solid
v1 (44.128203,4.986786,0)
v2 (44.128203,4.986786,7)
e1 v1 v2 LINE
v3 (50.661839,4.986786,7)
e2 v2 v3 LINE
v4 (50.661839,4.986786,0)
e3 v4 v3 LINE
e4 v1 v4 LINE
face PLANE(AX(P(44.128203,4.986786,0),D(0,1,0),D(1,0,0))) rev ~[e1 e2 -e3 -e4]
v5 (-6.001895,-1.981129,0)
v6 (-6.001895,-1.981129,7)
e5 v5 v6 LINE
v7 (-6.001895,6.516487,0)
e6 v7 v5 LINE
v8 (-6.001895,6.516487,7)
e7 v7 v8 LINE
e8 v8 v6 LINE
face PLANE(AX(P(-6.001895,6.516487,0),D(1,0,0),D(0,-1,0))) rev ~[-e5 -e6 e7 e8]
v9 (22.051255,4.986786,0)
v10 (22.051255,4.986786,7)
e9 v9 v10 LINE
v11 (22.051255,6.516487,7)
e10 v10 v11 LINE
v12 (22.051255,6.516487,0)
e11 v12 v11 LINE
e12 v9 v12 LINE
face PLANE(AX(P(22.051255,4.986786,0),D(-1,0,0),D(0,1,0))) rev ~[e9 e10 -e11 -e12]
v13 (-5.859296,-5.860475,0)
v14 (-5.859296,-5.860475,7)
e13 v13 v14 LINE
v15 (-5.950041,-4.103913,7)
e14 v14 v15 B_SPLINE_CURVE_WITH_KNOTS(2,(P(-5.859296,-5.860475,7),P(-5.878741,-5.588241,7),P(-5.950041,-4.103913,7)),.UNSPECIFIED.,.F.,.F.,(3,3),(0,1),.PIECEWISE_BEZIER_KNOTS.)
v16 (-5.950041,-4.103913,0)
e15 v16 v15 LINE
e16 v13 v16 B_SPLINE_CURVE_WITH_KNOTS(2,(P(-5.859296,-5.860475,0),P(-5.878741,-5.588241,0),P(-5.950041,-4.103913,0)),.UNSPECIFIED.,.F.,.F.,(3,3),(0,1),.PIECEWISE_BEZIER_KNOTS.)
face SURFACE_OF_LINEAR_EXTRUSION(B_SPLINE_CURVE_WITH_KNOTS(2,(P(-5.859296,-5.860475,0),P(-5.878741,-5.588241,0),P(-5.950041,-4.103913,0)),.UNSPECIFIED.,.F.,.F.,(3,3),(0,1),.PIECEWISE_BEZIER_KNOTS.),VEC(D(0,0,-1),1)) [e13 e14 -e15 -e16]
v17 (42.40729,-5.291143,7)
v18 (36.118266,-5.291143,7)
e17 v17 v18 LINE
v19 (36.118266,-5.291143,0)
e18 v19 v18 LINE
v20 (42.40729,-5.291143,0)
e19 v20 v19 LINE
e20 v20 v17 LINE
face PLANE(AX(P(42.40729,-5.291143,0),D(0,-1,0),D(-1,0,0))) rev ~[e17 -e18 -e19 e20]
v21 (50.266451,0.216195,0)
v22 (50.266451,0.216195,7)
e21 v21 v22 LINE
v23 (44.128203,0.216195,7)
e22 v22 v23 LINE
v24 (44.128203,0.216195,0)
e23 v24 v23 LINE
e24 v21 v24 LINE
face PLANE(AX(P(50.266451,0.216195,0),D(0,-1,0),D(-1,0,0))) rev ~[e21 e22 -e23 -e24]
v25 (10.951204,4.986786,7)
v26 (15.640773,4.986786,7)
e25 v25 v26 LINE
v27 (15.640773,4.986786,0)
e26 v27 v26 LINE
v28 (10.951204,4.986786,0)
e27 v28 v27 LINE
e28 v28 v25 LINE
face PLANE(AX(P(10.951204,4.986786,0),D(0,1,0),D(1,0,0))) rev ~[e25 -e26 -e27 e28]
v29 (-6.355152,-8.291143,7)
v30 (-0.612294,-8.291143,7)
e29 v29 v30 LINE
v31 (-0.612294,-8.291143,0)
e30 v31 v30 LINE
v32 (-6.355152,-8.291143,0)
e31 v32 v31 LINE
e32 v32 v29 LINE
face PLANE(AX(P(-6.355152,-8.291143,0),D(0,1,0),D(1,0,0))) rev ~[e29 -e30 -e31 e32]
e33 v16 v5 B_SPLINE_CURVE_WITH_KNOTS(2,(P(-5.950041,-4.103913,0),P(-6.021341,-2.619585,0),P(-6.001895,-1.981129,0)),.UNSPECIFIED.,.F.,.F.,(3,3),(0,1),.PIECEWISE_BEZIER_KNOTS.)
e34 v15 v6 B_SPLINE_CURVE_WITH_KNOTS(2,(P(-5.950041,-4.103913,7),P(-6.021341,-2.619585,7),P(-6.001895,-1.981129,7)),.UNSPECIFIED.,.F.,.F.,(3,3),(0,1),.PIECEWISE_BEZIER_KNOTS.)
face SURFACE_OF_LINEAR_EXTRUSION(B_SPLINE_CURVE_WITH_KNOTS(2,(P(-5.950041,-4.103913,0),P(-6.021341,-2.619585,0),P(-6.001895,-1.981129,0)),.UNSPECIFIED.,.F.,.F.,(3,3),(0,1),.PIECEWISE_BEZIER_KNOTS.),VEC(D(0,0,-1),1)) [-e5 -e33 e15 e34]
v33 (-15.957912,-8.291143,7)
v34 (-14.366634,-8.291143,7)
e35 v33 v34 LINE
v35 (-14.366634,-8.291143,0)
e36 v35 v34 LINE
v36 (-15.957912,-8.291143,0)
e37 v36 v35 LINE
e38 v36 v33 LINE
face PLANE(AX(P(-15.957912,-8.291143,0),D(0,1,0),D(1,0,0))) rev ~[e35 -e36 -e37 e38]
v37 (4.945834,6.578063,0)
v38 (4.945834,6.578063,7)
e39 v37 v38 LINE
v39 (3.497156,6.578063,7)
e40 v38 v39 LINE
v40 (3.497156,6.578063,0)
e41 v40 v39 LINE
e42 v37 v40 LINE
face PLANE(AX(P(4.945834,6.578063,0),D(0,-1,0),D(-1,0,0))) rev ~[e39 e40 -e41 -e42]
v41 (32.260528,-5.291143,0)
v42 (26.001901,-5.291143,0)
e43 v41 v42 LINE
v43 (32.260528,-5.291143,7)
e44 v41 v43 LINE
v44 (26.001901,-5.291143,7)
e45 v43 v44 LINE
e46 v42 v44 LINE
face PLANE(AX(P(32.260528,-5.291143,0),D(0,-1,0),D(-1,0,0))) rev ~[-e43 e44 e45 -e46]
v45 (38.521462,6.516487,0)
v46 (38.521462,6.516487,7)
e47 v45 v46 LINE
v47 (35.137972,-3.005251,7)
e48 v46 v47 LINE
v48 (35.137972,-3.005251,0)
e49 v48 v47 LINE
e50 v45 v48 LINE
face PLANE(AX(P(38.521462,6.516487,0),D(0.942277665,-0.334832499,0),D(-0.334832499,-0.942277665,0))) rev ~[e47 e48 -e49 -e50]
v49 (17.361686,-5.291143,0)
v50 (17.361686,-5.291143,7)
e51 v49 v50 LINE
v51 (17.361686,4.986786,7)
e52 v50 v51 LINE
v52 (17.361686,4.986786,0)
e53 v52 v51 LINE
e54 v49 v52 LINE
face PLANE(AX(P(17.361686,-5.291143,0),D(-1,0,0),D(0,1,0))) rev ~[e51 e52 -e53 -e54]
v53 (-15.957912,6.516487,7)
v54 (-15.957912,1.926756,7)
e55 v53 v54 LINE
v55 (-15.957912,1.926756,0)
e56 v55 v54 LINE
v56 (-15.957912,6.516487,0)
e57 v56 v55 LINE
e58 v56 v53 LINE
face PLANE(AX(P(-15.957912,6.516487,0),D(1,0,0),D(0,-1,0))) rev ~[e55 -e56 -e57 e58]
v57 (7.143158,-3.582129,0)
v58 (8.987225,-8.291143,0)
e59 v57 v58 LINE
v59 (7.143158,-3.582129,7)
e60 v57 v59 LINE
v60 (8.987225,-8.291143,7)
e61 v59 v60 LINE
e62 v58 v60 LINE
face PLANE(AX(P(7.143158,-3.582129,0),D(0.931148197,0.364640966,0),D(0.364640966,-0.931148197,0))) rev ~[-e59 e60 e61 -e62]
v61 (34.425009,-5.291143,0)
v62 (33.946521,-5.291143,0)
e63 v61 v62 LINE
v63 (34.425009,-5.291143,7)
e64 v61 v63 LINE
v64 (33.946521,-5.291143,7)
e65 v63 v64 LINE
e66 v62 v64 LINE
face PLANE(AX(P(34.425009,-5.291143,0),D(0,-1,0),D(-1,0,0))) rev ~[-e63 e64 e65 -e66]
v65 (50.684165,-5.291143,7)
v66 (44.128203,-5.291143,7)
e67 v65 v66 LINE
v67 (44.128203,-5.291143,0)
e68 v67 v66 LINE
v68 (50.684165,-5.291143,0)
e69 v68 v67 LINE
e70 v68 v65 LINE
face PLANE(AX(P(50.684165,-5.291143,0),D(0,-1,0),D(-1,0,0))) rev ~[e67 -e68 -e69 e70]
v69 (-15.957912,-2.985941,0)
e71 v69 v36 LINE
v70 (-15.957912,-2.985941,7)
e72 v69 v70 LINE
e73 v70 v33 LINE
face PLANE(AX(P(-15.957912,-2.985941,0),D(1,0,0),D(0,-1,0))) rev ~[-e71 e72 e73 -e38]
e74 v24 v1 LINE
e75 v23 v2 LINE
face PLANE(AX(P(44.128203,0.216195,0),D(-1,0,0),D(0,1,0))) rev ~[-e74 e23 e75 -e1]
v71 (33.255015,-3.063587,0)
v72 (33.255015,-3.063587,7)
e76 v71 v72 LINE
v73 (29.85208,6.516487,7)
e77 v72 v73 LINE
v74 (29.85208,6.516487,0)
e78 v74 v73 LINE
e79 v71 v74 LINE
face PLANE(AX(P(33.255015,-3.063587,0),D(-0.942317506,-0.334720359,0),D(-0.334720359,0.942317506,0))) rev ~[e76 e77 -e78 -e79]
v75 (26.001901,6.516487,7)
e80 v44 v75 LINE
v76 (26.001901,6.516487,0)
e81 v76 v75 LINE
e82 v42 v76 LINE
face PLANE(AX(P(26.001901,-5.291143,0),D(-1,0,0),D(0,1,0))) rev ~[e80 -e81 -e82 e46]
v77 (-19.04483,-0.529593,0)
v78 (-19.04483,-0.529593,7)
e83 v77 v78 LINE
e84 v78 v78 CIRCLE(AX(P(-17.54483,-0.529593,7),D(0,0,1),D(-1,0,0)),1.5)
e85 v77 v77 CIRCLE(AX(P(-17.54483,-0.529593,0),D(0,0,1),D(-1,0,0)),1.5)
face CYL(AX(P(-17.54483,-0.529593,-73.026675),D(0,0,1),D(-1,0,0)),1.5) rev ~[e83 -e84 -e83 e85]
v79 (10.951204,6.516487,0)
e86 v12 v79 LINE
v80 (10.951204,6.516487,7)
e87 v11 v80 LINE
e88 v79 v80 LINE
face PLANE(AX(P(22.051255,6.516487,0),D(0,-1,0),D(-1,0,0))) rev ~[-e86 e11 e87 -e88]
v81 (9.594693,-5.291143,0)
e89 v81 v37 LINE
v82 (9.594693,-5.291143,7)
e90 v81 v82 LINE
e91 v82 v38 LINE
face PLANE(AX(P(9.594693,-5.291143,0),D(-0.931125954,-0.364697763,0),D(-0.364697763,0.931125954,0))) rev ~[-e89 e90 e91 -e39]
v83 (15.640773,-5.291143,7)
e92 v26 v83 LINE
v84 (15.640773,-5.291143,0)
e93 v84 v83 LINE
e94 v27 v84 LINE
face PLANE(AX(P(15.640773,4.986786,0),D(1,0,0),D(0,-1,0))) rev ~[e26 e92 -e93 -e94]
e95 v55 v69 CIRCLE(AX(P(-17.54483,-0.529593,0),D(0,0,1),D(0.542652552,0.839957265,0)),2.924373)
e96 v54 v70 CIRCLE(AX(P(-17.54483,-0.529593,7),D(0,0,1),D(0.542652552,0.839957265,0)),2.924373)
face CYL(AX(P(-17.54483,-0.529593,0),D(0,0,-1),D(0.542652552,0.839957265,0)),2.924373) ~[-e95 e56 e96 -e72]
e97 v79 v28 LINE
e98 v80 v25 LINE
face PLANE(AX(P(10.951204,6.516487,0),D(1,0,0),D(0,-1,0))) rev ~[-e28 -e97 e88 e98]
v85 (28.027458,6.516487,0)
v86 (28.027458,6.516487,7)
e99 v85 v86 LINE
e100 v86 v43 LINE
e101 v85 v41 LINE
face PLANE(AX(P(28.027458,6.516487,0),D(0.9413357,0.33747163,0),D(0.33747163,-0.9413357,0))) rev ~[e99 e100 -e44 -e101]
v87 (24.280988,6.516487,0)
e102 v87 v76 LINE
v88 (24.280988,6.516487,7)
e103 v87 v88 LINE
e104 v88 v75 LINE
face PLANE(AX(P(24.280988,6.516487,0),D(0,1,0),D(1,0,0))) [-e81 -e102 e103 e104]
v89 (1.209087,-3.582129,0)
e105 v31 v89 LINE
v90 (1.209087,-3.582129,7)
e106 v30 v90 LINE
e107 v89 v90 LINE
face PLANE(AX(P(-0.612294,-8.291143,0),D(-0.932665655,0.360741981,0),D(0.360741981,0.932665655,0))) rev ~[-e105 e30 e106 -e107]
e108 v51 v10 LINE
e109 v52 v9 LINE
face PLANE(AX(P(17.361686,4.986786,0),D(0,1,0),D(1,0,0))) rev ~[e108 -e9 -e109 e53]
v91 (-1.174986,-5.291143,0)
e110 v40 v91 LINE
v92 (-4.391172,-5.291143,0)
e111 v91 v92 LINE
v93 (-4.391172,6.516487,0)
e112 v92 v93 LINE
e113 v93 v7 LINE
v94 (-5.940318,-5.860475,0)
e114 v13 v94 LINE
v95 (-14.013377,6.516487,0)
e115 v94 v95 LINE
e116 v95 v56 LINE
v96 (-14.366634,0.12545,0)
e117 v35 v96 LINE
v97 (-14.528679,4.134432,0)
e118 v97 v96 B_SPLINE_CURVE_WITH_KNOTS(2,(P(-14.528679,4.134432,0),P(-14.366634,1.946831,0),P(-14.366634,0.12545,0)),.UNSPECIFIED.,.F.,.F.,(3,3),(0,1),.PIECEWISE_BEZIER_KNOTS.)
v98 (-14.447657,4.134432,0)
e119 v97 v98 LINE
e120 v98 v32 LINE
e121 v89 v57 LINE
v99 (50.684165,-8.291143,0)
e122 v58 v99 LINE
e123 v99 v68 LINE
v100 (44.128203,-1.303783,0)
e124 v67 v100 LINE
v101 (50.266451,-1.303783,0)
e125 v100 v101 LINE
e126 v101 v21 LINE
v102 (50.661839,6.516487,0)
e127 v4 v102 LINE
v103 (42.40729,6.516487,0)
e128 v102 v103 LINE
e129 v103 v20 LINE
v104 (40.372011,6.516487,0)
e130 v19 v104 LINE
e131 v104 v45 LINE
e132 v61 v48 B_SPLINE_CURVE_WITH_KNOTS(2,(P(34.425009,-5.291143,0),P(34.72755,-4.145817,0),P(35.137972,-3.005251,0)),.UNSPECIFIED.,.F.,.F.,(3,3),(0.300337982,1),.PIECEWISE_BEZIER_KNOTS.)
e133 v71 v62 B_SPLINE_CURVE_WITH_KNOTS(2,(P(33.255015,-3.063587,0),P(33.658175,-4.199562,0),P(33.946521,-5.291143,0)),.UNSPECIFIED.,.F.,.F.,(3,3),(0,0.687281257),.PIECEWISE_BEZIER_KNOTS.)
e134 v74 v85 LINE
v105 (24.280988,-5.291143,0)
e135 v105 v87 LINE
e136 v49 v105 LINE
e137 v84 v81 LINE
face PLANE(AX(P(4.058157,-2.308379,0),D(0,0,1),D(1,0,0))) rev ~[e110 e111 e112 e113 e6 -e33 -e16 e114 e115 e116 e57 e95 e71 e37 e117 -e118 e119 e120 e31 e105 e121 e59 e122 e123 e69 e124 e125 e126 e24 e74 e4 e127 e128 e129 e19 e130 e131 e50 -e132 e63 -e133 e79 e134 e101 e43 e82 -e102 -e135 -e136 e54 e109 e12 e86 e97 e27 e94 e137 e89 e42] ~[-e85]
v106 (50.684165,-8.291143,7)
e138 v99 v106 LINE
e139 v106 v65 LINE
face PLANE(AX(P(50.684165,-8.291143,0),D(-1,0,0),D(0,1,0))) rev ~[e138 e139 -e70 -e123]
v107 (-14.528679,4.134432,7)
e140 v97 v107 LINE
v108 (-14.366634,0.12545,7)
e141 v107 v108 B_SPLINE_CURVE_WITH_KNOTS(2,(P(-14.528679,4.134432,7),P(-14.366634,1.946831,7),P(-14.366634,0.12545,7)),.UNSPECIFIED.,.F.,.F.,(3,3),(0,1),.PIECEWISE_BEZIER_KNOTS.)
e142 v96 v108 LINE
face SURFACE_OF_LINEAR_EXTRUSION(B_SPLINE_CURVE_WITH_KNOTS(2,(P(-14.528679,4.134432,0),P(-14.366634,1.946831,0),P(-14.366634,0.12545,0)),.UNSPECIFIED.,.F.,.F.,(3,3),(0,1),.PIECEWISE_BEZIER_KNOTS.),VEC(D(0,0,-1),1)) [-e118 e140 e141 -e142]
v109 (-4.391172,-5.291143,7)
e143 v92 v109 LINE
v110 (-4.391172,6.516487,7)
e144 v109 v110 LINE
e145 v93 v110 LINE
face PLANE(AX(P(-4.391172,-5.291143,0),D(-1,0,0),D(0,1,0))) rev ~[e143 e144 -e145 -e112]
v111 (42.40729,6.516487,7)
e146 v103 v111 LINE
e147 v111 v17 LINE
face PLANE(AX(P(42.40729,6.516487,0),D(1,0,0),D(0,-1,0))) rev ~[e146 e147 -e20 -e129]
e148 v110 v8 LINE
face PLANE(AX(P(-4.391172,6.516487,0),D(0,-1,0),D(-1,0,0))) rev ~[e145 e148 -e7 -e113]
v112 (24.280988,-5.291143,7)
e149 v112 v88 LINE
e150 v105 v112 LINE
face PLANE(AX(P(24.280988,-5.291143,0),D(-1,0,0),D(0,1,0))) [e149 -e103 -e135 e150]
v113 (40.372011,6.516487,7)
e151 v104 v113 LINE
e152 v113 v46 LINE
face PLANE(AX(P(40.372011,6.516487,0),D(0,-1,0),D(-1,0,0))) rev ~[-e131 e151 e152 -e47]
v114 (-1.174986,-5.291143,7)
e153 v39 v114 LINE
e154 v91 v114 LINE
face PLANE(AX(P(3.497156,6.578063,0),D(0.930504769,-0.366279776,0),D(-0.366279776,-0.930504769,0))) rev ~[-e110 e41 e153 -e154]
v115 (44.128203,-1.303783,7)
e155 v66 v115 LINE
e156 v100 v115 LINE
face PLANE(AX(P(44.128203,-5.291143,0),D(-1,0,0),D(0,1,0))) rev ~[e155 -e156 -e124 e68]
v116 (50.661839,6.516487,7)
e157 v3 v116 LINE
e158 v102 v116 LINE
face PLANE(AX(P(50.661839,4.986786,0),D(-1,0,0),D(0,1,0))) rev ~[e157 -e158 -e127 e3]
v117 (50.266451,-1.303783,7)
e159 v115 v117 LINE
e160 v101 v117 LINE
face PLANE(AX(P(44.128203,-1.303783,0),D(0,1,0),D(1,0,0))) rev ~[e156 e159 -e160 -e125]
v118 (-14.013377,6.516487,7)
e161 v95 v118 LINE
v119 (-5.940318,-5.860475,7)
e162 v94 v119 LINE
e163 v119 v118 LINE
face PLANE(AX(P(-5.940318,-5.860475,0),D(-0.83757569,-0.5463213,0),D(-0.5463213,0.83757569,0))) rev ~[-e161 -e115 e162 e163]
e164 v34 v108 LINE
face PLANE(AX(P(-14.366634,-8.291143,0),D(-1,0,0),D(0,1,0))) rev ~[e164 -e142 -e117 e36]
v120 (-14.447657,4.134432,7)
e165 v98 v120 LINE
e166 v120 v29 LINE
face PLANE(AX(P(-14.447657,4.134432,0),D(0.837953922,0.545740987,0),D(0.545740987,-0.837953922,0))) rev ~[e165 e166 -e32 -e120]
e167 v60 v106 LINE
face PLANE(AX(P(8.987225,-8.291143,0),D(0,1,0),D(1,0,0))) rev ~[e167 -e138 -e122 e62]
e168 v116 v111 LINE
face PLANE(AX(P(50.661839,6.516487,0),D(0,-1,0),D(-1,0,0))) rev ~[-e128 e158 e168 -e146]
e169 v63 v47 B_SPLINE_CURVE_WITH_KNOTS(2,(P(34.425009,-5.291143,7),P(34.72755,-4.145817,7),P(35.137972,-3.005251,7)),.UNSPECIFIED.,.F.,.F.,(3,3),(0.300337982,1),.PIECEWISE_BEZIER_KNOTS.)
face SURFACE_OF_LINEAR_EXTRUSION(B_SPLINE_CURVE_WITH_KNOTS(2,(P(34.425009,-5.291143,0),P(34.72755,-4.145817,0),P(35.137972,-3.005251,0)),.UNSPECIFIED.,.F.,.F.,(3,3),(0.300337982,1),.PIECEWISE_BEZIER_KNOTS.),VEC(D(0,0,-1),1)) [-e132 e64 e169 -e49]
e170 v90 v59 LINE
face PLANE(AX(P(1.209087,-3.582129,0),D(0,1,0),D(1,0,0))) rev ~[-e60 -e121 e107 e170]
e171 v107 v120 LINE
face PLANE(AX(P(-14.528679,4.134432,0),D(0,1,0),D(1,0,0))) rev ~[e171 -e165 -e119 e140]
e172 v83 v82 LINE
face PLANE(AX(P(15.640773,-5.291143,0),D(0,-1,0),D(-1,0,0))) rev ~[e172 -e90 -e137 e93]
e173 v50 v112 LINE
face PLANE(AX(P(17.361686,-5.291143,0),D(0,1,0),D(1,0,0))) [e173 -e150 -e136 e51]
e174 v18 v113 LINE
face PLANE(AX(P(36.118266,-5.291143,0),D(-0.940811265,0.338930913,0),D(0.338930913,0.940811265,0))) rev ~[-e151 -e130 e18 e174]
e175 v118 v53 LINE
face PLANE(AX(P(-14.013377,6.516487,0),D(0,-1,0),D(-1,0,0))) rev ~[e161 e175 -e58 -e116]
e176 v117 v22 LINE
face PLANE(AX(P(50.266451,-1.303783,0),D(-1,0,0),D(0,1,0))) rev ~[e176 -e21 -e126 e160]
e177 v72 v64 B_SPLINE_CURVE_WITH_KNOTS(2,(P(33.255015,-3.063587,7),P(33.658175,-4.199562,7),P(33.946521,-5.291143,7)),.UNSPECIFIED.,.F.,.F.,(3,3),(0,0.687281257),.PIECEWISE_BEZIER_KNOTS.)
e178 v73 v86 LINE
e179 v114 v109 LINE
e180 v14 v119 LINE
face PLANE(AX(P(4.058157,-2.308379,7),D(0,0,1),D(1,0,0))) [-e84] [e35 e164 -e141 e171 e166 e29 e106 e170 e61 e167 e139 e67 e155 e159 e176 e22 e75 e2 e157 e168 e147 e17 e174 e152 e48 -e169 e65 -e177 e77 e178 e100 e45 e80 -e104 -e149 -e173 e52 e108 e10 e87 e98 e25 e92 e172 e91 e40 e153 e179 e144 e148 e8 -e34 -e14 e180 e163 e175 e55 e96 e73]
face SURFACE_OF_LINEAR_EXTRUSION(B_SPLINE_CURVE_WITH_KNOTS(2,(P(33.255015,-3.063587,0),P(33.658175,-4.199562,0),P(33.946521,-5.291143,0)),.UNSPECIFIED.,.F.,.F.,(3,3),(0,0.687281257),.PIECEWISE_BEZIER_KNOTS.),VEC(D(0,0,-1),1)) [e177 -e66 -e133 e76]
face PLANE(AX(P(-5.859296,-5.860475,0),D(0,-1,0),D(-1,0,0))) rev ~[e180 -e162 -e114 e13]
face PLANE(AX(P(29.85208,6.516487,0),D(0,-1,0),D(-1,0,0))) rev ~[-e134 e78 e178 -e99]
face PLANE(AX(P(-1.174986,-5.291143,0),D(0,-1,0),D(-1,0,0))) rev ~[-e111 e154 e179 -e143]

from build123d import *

# Parameters (mm, degrees)
F0_R     = 1.5144006305
F0_W     = 6.9193018195
F0_H     = 3
F0_W_2   = 1.7209130052
F0_H_2   = 11.8076299829
F0_W_3   = 0.5121529102
F0_W_4   = 0.0222647793
F1_DEPTH = 7
F2_D     = 3


with BuildPart() as f1:
    # F0 (on Top) → F1 (new body)
    with BuildSketch(Plane.XY):
        Polygon((3.4971556998, 6.5780634755), (-1.1749863393, -5.2911434323), (-2.3558930525, -8.2911434323), (-2.2171302699, -8.2911434323), (-0.6122938118, -8.2911434323), (1.2090868077, -3.582129126), (7.1431578295, -3.582129126), (8.9872246844, -8.2911434323), (9.7287874669, -8.2911434323), (9.2608770356, -5.2911434323), (9.5946928185, -5.2911434323), (4.9458338793, 6.5780634755), align=None)
        with BuildLine():
            Line((4.8842569545, 2.556118015), (6.6084108505, -2.0329833323))
            Line((6.6084108505, -2.0329833323), (1.8183742747, -2.0329833323))
            Line((1.8183742747, -2.0329833323), (3.5587326246, 2.556118015))
            add(Edge.make_bspline(
                [(4.1971881087, 4.6918650404), (3.9735666447, 3.7195978058), (3.5587326246, 2.556118015)],
                knots=[0, 0, 0, 1, 1, 1], degree=2))
            add(Edge.make_bspline(
                [(4.8842569545, 2.556118015), (4.5504452039, 3.4279176354), (4.1971881087, 4.6918650404)],
                knots=[0, 0, 0, 1, 1, 1], degree=2))
        make_face(mode=Mode.SUBTRACT)
        with BuildLine():
            Line((-4.3911724636, -8.2911434323), (-4.3911724636, -5.2911434323))
            Line((-4.3911724636, -5.2911434323), (-4.3911724636, 6.5164865506))
            Line((-4.3911724636, 6.5164865506), (-6.0018951822, 6.5164865506))
            Line((-6.0018951822, 6.5164865506), (-6.0018951822, -1.9811290797))
            add(Edge.make_bspline(
                [(-5.9500409297, -4.1039125419), (-6.0213405269, -2.6195845638), (-6.0018951822, -1.9811290797)],
                knots=[0, 0, 0, 1, 1, 1], degree=2))
            add(Edge.make_bspline(
                [(-5.8592959878, -5.8604753458), (-5.8787413325, -5.5882405201), (-5.9500409297, -4.1039125419)],
                knots=[0, 0, 0, 1, 1, 1], degree=2))
            Line((-5.8592959878, -5.8604753458), (-5.9403182574, -5.8604753458))
            Line((-5.9403182574, -5.8604753458), (-14.0133771953, 6.5164865506))
            Line((-14.0133771953, 6.5164865506), (-15.9579116645, 6.5164865506))
            Line((-15.9579116645, 6.5164865506), (-15.9579116645, 1.9267558515))
            ThreePointArc((-15.9579116645, 1.9267558515), (-14.9764941477, 0.8688379816), (-14.6204570666, -0.5295926239))
            ThreePointArc((-14.6204570666, -0.5295926239), (-14.9764941477, -1.9280232295), (-15.9579116645, -2.9859410994))
            Line((-15.9579116645, -2.9859410994), (-15.9579116645, -8.2911434323))
            Line((-15.9579116645, -8.2911434323), (-14.3666342905, -8.2911434323))
            Line((-14.3666342905, -8.2911434323), (-14.3666342905, 0.1254499285))
            add(Edge.make_bspline(
                [(-14.5286788296, 4.1344318259), (-14.3666342905, 1.946830548), (-14.3666342905, 0.1254499285)],
                knots=[0, 0, 0, 1, 1, 1], degree=2))
            Line((-14.5286788296, 4.1344318259), (-14.4476565601, 4.1344318259))
            Line((-14.4476565601, 4.1344318259), (-6.3551522775, -8.2911434323))
            Line((-6.3551522775, -8.2911434323), (-4.4685006142, -8.2911434323))
            Line((-4.4685006142, -8.2911434323), (-4.3911724636, -8.2911434323))
        make_face()
        Polygon((42.4072904282, 6.5164865506), (42.4072904282, -5.2911434323), (42.4295552075, -5.2911434323), (42.9417081177, -5.2911434323), (44.1282034335, -5.2911434323), (44.1282034335, -1.3037829063), (50.2664505745, -1.3037829063), (50.2664505745, 0.2161948704), (44.1282034335, 0.2161948704), (44.1282034335, 4.9867861015), (50.6618392499, 4.9867861015), (50.6618392499, 6.5164865506), align=None)
        Polygon((15.6407734599, 4.9867861015), (15.6407734599, -5.2911434323), (17.3616864651, -5.2911434323), (17.3616864651, 4.9867861015), (22.0512554266, 4.9867861015), (22.0512554266, 6.5164865506), (10.9512044983, 6.5164865506), (10.9512044983, 4.9867861015), align=None)
        with BuildLine():
            Line((-15.9579116645, -2.9859410994), (-15.9579116645, 1.9267558515))
            ThreePointArc((-15.9579116645, 1.9267558515), (-20.4692033693, -0.5295926239), (-15.9579116645, -2.9859410994))
        make_face()
        with Locations((-17.544830218, -0.5295926239)):
            Circle(F0_R, mode=Mode.SUBTRACT)
        with BuildLine():
            add(Edge.make_bspline(
                [(34.4250094285, -5.2911434323), (34.7275498025, -4.1458172445), (35.1379724042, -3.0052505668)],
                knots=[0.3003379815, 0.3003379815, 0.3003379815, 1, 1, 1], degree=2))
            Line((34.4250094285, -5.2911434323), (36.1182664446, -5.2911434323))
            Line((36.1182664446, -5.2911434323), (40.3720110171, 6.5164865506))
            Line((40.3720110171, 6.5164865506), (38.5214623806, 6.5164865506))
            Line((38.5214623806, 6.5164865506), (35.1379724042, -3.0052505668))
        make_face()
        with BuildLine():
            Line((28.0274580286, 6.5164865506), (32.2605282654, -5.2911434323))
            Line((32.2605282654, -5.2911434323), (33.9465209728, -5.2911434323))
            add(Edge.make_bspline(
                [(33.2550148599, -3.0635866009), (33.6581748914, -4.1995623803), (33.9465209728, -5.2911434323)],
                knots=[0, 0, 0, 0.6872812565, 0.6872812565, 0.6872812565], degree=2))
            Line((33.2550148599, -3.0635866009), (29.8520795388, 6.5164865506))
            Line((29.8520795388, 6.5164865506), (28.0274580286, 6.5164865506))
        make_face()
        with Locations((20.8213373748, -6.7911434323)):
            Rectangle(F0_W, F0_H)
        Polygon((36.1182664446, -5.2911434323), (35.03750479, -8.2911434323), (42.4072904282, -8.2911434323), (42.4072904282, -5.2911434323), (41.7667254806, -5.2911434323), align=None)
        Polygon((32.2605282654, -5.2911434323), (26.0019012898, -5.2911434323), (26.0019012898, -8.2911434323), (33.3360371295, -8.2911434323), align=None)
        with Locations((25.1414447872, 0.6126715592)):
            Rectangle(F0_W_2, F0_H_2)
        Polygon((15.6407734599, -5.2911434323), (9.5946928185, -5.2911434323), (10.7697146145, -8.2911434323), (15.6407734599, -8.2911434323), align=None)
        with BuildLine():
            Line((1.8183742747, -2.0329833323), (6.6084108505, -2.0329833323))
            Line((6.6084108505, -2.0329833323), (4.8842569545, 2.556118015))
            add(Edge.make_bspline(
                [(4.8842569545, 2.556118015), (4.5504452039, 3.4279176354), (4.1971881087, 4.6918650404)],
                knots=[0, 0, 0, 1, 1, 1], degree=2))
            add(Edge.make_bspline(
                [(4.1971881087, 4.6918650404), (3.9735666447, 3.7195978058), (3.5587326246, 2.556118015)],
                knots=[0, 0, 0, 1, 1, 1], degree=2))
            Line((3.5587326246, 2.556118015), (1.8183742747, -2.0329833323))
        make_face()
        Polygon((42.9417081177, -5.2911434323), (42.9417081177, -8.2911434323), (50.6618392499, -8.2911434323), (50.6618392499, -6.7517203108), (44.1282034335, -6.7517203108), (44.1282034335, -5.2911434323), align=None)
        Polygon((50.6618392499, -6.7517203108), (50.6618392499, -8.2911434323), (50.6841652095, -8.2911434323), (50.6841652095, -5.2911434323), (44.1282034335, -5.2911434323), (44.1282034335, -6.7517203108), align=None)
        with BuildLine():
            Line((33.9465209728, -5.2911434323), (32.2605282654, -5.2911434323))
            Line((32.2605282654, -5.2911434323), (33.3360371295, -8.2911434323))
            Line((33.3360371295, -8.2911434323), (35.03750479, -8.2911434323))
            Line((35.03750479, -8.2911434323), (36.1182664446, -5.2911434323))
            Line((36.1182664446, -5.2911434323), (34.4250094285, -5.2911434323))
            add(Edge.make_bspline(
                [(34.1851505143, -6.2753093659), (34.2951404877, -5.7827878924), (34.4250094285, -5.2911434323)],
                knots=[0, 0, 0, 0.3003379815, 0.3003379815, 0.3003379815], degree=2))
            add(Edge.make_bspline(
                [(33.9465209728, -5.2911434323), (34.0777208613, -5.7878219779), (34.1851505143, -6.2753093659)],
                knots=[0.6872812565, 0.6872812565, 0.6872812565, 1, 1, 1], degree=2))
        make_face()
        Polygon((-1.1749863393, -5.2911434323), (-1.686436357, -5.2911434323), (-4.3911724636, -5.2911434323), (-4.3911724636, -8.2911434323), (-2.3558930525, -8.2911434323), align=None)
        with Locations((-17.544830218, -0.5295926239)):
            Circle(F0_R)
        with Locations((16.5012299625, -6.7911434323)):
            Rectangle(F0_W_2, F0_H)
        Polygon((26.0019012898, -5.2911434323), (24.2809882846, -5.2911434323), (24.2809882846, -8.2911434323), (25.8840639144, -8.2911434323), (26.0019012898, -8.2911434323), align=None)
        with BuildLine():
            ThreePointArc((-14.6204570666, -0.5295926239), (-14.9764941477, 0.8688379816), (-15.9579116645, 1.9267558515))
            Line((-15.9579116645, 1.9267558515), (-15.9579116645, -2.9859410994))
            ThreePointArc((-15.9579116645, -2.9859410994), (-14.9764941477, -1.9280232295), (-14.6204570666, -0.5295926239))
        make_face()
        Polygon((10.7697146145, -8.2911434323), (9.5946928185, -5.2911434323), (9.2608770356, -5.2911434323), (9.7287874669, -8.2911434323), align=None)
        with Locations((42.6856316626, -6.7911434323)):
            Rectangle(F0_W_3, F0_H)
        with BuildLine():
            Line((34.4250094285, -5.2911434323), (33.9465209728, -5.2911434323))
            add(Edge.make_bspline(
                [(33.9465209728, -5.2911434323), (34.0777208613, -5.7878219779), (34.1851505143, -6.2753093659)],
                knots=[0.6872812565, 0.6872812565, 0.6872812565, 1, 1, 1], degree=2))
            add(Edge.make_bspline(
                [(34.1851505143, -6.2753093659), (34.2951404877, -5.7827878924), (34.4250094285, -5.2911434323)],
                knots=[0, 0, 0, 0.3003379815, 0.3003379815, 0.3003379815], degree=2))
        make_face()
        with Locations((42.4184228179, -6.7911434323)):
            Rectangle(F0_W_4, F0_H)
    extrude(amount=F1_DEPTH)

    # F2 (through all)
    with Locations(Plane(origin=(0, 0, 0), x_dir=(1, 0, 0), z_dir=(0, 0, -1))):
        with Locations((-17.544830218, 0.5295926239)):
            Hole(F2_D / 2)


solid = f1.part
